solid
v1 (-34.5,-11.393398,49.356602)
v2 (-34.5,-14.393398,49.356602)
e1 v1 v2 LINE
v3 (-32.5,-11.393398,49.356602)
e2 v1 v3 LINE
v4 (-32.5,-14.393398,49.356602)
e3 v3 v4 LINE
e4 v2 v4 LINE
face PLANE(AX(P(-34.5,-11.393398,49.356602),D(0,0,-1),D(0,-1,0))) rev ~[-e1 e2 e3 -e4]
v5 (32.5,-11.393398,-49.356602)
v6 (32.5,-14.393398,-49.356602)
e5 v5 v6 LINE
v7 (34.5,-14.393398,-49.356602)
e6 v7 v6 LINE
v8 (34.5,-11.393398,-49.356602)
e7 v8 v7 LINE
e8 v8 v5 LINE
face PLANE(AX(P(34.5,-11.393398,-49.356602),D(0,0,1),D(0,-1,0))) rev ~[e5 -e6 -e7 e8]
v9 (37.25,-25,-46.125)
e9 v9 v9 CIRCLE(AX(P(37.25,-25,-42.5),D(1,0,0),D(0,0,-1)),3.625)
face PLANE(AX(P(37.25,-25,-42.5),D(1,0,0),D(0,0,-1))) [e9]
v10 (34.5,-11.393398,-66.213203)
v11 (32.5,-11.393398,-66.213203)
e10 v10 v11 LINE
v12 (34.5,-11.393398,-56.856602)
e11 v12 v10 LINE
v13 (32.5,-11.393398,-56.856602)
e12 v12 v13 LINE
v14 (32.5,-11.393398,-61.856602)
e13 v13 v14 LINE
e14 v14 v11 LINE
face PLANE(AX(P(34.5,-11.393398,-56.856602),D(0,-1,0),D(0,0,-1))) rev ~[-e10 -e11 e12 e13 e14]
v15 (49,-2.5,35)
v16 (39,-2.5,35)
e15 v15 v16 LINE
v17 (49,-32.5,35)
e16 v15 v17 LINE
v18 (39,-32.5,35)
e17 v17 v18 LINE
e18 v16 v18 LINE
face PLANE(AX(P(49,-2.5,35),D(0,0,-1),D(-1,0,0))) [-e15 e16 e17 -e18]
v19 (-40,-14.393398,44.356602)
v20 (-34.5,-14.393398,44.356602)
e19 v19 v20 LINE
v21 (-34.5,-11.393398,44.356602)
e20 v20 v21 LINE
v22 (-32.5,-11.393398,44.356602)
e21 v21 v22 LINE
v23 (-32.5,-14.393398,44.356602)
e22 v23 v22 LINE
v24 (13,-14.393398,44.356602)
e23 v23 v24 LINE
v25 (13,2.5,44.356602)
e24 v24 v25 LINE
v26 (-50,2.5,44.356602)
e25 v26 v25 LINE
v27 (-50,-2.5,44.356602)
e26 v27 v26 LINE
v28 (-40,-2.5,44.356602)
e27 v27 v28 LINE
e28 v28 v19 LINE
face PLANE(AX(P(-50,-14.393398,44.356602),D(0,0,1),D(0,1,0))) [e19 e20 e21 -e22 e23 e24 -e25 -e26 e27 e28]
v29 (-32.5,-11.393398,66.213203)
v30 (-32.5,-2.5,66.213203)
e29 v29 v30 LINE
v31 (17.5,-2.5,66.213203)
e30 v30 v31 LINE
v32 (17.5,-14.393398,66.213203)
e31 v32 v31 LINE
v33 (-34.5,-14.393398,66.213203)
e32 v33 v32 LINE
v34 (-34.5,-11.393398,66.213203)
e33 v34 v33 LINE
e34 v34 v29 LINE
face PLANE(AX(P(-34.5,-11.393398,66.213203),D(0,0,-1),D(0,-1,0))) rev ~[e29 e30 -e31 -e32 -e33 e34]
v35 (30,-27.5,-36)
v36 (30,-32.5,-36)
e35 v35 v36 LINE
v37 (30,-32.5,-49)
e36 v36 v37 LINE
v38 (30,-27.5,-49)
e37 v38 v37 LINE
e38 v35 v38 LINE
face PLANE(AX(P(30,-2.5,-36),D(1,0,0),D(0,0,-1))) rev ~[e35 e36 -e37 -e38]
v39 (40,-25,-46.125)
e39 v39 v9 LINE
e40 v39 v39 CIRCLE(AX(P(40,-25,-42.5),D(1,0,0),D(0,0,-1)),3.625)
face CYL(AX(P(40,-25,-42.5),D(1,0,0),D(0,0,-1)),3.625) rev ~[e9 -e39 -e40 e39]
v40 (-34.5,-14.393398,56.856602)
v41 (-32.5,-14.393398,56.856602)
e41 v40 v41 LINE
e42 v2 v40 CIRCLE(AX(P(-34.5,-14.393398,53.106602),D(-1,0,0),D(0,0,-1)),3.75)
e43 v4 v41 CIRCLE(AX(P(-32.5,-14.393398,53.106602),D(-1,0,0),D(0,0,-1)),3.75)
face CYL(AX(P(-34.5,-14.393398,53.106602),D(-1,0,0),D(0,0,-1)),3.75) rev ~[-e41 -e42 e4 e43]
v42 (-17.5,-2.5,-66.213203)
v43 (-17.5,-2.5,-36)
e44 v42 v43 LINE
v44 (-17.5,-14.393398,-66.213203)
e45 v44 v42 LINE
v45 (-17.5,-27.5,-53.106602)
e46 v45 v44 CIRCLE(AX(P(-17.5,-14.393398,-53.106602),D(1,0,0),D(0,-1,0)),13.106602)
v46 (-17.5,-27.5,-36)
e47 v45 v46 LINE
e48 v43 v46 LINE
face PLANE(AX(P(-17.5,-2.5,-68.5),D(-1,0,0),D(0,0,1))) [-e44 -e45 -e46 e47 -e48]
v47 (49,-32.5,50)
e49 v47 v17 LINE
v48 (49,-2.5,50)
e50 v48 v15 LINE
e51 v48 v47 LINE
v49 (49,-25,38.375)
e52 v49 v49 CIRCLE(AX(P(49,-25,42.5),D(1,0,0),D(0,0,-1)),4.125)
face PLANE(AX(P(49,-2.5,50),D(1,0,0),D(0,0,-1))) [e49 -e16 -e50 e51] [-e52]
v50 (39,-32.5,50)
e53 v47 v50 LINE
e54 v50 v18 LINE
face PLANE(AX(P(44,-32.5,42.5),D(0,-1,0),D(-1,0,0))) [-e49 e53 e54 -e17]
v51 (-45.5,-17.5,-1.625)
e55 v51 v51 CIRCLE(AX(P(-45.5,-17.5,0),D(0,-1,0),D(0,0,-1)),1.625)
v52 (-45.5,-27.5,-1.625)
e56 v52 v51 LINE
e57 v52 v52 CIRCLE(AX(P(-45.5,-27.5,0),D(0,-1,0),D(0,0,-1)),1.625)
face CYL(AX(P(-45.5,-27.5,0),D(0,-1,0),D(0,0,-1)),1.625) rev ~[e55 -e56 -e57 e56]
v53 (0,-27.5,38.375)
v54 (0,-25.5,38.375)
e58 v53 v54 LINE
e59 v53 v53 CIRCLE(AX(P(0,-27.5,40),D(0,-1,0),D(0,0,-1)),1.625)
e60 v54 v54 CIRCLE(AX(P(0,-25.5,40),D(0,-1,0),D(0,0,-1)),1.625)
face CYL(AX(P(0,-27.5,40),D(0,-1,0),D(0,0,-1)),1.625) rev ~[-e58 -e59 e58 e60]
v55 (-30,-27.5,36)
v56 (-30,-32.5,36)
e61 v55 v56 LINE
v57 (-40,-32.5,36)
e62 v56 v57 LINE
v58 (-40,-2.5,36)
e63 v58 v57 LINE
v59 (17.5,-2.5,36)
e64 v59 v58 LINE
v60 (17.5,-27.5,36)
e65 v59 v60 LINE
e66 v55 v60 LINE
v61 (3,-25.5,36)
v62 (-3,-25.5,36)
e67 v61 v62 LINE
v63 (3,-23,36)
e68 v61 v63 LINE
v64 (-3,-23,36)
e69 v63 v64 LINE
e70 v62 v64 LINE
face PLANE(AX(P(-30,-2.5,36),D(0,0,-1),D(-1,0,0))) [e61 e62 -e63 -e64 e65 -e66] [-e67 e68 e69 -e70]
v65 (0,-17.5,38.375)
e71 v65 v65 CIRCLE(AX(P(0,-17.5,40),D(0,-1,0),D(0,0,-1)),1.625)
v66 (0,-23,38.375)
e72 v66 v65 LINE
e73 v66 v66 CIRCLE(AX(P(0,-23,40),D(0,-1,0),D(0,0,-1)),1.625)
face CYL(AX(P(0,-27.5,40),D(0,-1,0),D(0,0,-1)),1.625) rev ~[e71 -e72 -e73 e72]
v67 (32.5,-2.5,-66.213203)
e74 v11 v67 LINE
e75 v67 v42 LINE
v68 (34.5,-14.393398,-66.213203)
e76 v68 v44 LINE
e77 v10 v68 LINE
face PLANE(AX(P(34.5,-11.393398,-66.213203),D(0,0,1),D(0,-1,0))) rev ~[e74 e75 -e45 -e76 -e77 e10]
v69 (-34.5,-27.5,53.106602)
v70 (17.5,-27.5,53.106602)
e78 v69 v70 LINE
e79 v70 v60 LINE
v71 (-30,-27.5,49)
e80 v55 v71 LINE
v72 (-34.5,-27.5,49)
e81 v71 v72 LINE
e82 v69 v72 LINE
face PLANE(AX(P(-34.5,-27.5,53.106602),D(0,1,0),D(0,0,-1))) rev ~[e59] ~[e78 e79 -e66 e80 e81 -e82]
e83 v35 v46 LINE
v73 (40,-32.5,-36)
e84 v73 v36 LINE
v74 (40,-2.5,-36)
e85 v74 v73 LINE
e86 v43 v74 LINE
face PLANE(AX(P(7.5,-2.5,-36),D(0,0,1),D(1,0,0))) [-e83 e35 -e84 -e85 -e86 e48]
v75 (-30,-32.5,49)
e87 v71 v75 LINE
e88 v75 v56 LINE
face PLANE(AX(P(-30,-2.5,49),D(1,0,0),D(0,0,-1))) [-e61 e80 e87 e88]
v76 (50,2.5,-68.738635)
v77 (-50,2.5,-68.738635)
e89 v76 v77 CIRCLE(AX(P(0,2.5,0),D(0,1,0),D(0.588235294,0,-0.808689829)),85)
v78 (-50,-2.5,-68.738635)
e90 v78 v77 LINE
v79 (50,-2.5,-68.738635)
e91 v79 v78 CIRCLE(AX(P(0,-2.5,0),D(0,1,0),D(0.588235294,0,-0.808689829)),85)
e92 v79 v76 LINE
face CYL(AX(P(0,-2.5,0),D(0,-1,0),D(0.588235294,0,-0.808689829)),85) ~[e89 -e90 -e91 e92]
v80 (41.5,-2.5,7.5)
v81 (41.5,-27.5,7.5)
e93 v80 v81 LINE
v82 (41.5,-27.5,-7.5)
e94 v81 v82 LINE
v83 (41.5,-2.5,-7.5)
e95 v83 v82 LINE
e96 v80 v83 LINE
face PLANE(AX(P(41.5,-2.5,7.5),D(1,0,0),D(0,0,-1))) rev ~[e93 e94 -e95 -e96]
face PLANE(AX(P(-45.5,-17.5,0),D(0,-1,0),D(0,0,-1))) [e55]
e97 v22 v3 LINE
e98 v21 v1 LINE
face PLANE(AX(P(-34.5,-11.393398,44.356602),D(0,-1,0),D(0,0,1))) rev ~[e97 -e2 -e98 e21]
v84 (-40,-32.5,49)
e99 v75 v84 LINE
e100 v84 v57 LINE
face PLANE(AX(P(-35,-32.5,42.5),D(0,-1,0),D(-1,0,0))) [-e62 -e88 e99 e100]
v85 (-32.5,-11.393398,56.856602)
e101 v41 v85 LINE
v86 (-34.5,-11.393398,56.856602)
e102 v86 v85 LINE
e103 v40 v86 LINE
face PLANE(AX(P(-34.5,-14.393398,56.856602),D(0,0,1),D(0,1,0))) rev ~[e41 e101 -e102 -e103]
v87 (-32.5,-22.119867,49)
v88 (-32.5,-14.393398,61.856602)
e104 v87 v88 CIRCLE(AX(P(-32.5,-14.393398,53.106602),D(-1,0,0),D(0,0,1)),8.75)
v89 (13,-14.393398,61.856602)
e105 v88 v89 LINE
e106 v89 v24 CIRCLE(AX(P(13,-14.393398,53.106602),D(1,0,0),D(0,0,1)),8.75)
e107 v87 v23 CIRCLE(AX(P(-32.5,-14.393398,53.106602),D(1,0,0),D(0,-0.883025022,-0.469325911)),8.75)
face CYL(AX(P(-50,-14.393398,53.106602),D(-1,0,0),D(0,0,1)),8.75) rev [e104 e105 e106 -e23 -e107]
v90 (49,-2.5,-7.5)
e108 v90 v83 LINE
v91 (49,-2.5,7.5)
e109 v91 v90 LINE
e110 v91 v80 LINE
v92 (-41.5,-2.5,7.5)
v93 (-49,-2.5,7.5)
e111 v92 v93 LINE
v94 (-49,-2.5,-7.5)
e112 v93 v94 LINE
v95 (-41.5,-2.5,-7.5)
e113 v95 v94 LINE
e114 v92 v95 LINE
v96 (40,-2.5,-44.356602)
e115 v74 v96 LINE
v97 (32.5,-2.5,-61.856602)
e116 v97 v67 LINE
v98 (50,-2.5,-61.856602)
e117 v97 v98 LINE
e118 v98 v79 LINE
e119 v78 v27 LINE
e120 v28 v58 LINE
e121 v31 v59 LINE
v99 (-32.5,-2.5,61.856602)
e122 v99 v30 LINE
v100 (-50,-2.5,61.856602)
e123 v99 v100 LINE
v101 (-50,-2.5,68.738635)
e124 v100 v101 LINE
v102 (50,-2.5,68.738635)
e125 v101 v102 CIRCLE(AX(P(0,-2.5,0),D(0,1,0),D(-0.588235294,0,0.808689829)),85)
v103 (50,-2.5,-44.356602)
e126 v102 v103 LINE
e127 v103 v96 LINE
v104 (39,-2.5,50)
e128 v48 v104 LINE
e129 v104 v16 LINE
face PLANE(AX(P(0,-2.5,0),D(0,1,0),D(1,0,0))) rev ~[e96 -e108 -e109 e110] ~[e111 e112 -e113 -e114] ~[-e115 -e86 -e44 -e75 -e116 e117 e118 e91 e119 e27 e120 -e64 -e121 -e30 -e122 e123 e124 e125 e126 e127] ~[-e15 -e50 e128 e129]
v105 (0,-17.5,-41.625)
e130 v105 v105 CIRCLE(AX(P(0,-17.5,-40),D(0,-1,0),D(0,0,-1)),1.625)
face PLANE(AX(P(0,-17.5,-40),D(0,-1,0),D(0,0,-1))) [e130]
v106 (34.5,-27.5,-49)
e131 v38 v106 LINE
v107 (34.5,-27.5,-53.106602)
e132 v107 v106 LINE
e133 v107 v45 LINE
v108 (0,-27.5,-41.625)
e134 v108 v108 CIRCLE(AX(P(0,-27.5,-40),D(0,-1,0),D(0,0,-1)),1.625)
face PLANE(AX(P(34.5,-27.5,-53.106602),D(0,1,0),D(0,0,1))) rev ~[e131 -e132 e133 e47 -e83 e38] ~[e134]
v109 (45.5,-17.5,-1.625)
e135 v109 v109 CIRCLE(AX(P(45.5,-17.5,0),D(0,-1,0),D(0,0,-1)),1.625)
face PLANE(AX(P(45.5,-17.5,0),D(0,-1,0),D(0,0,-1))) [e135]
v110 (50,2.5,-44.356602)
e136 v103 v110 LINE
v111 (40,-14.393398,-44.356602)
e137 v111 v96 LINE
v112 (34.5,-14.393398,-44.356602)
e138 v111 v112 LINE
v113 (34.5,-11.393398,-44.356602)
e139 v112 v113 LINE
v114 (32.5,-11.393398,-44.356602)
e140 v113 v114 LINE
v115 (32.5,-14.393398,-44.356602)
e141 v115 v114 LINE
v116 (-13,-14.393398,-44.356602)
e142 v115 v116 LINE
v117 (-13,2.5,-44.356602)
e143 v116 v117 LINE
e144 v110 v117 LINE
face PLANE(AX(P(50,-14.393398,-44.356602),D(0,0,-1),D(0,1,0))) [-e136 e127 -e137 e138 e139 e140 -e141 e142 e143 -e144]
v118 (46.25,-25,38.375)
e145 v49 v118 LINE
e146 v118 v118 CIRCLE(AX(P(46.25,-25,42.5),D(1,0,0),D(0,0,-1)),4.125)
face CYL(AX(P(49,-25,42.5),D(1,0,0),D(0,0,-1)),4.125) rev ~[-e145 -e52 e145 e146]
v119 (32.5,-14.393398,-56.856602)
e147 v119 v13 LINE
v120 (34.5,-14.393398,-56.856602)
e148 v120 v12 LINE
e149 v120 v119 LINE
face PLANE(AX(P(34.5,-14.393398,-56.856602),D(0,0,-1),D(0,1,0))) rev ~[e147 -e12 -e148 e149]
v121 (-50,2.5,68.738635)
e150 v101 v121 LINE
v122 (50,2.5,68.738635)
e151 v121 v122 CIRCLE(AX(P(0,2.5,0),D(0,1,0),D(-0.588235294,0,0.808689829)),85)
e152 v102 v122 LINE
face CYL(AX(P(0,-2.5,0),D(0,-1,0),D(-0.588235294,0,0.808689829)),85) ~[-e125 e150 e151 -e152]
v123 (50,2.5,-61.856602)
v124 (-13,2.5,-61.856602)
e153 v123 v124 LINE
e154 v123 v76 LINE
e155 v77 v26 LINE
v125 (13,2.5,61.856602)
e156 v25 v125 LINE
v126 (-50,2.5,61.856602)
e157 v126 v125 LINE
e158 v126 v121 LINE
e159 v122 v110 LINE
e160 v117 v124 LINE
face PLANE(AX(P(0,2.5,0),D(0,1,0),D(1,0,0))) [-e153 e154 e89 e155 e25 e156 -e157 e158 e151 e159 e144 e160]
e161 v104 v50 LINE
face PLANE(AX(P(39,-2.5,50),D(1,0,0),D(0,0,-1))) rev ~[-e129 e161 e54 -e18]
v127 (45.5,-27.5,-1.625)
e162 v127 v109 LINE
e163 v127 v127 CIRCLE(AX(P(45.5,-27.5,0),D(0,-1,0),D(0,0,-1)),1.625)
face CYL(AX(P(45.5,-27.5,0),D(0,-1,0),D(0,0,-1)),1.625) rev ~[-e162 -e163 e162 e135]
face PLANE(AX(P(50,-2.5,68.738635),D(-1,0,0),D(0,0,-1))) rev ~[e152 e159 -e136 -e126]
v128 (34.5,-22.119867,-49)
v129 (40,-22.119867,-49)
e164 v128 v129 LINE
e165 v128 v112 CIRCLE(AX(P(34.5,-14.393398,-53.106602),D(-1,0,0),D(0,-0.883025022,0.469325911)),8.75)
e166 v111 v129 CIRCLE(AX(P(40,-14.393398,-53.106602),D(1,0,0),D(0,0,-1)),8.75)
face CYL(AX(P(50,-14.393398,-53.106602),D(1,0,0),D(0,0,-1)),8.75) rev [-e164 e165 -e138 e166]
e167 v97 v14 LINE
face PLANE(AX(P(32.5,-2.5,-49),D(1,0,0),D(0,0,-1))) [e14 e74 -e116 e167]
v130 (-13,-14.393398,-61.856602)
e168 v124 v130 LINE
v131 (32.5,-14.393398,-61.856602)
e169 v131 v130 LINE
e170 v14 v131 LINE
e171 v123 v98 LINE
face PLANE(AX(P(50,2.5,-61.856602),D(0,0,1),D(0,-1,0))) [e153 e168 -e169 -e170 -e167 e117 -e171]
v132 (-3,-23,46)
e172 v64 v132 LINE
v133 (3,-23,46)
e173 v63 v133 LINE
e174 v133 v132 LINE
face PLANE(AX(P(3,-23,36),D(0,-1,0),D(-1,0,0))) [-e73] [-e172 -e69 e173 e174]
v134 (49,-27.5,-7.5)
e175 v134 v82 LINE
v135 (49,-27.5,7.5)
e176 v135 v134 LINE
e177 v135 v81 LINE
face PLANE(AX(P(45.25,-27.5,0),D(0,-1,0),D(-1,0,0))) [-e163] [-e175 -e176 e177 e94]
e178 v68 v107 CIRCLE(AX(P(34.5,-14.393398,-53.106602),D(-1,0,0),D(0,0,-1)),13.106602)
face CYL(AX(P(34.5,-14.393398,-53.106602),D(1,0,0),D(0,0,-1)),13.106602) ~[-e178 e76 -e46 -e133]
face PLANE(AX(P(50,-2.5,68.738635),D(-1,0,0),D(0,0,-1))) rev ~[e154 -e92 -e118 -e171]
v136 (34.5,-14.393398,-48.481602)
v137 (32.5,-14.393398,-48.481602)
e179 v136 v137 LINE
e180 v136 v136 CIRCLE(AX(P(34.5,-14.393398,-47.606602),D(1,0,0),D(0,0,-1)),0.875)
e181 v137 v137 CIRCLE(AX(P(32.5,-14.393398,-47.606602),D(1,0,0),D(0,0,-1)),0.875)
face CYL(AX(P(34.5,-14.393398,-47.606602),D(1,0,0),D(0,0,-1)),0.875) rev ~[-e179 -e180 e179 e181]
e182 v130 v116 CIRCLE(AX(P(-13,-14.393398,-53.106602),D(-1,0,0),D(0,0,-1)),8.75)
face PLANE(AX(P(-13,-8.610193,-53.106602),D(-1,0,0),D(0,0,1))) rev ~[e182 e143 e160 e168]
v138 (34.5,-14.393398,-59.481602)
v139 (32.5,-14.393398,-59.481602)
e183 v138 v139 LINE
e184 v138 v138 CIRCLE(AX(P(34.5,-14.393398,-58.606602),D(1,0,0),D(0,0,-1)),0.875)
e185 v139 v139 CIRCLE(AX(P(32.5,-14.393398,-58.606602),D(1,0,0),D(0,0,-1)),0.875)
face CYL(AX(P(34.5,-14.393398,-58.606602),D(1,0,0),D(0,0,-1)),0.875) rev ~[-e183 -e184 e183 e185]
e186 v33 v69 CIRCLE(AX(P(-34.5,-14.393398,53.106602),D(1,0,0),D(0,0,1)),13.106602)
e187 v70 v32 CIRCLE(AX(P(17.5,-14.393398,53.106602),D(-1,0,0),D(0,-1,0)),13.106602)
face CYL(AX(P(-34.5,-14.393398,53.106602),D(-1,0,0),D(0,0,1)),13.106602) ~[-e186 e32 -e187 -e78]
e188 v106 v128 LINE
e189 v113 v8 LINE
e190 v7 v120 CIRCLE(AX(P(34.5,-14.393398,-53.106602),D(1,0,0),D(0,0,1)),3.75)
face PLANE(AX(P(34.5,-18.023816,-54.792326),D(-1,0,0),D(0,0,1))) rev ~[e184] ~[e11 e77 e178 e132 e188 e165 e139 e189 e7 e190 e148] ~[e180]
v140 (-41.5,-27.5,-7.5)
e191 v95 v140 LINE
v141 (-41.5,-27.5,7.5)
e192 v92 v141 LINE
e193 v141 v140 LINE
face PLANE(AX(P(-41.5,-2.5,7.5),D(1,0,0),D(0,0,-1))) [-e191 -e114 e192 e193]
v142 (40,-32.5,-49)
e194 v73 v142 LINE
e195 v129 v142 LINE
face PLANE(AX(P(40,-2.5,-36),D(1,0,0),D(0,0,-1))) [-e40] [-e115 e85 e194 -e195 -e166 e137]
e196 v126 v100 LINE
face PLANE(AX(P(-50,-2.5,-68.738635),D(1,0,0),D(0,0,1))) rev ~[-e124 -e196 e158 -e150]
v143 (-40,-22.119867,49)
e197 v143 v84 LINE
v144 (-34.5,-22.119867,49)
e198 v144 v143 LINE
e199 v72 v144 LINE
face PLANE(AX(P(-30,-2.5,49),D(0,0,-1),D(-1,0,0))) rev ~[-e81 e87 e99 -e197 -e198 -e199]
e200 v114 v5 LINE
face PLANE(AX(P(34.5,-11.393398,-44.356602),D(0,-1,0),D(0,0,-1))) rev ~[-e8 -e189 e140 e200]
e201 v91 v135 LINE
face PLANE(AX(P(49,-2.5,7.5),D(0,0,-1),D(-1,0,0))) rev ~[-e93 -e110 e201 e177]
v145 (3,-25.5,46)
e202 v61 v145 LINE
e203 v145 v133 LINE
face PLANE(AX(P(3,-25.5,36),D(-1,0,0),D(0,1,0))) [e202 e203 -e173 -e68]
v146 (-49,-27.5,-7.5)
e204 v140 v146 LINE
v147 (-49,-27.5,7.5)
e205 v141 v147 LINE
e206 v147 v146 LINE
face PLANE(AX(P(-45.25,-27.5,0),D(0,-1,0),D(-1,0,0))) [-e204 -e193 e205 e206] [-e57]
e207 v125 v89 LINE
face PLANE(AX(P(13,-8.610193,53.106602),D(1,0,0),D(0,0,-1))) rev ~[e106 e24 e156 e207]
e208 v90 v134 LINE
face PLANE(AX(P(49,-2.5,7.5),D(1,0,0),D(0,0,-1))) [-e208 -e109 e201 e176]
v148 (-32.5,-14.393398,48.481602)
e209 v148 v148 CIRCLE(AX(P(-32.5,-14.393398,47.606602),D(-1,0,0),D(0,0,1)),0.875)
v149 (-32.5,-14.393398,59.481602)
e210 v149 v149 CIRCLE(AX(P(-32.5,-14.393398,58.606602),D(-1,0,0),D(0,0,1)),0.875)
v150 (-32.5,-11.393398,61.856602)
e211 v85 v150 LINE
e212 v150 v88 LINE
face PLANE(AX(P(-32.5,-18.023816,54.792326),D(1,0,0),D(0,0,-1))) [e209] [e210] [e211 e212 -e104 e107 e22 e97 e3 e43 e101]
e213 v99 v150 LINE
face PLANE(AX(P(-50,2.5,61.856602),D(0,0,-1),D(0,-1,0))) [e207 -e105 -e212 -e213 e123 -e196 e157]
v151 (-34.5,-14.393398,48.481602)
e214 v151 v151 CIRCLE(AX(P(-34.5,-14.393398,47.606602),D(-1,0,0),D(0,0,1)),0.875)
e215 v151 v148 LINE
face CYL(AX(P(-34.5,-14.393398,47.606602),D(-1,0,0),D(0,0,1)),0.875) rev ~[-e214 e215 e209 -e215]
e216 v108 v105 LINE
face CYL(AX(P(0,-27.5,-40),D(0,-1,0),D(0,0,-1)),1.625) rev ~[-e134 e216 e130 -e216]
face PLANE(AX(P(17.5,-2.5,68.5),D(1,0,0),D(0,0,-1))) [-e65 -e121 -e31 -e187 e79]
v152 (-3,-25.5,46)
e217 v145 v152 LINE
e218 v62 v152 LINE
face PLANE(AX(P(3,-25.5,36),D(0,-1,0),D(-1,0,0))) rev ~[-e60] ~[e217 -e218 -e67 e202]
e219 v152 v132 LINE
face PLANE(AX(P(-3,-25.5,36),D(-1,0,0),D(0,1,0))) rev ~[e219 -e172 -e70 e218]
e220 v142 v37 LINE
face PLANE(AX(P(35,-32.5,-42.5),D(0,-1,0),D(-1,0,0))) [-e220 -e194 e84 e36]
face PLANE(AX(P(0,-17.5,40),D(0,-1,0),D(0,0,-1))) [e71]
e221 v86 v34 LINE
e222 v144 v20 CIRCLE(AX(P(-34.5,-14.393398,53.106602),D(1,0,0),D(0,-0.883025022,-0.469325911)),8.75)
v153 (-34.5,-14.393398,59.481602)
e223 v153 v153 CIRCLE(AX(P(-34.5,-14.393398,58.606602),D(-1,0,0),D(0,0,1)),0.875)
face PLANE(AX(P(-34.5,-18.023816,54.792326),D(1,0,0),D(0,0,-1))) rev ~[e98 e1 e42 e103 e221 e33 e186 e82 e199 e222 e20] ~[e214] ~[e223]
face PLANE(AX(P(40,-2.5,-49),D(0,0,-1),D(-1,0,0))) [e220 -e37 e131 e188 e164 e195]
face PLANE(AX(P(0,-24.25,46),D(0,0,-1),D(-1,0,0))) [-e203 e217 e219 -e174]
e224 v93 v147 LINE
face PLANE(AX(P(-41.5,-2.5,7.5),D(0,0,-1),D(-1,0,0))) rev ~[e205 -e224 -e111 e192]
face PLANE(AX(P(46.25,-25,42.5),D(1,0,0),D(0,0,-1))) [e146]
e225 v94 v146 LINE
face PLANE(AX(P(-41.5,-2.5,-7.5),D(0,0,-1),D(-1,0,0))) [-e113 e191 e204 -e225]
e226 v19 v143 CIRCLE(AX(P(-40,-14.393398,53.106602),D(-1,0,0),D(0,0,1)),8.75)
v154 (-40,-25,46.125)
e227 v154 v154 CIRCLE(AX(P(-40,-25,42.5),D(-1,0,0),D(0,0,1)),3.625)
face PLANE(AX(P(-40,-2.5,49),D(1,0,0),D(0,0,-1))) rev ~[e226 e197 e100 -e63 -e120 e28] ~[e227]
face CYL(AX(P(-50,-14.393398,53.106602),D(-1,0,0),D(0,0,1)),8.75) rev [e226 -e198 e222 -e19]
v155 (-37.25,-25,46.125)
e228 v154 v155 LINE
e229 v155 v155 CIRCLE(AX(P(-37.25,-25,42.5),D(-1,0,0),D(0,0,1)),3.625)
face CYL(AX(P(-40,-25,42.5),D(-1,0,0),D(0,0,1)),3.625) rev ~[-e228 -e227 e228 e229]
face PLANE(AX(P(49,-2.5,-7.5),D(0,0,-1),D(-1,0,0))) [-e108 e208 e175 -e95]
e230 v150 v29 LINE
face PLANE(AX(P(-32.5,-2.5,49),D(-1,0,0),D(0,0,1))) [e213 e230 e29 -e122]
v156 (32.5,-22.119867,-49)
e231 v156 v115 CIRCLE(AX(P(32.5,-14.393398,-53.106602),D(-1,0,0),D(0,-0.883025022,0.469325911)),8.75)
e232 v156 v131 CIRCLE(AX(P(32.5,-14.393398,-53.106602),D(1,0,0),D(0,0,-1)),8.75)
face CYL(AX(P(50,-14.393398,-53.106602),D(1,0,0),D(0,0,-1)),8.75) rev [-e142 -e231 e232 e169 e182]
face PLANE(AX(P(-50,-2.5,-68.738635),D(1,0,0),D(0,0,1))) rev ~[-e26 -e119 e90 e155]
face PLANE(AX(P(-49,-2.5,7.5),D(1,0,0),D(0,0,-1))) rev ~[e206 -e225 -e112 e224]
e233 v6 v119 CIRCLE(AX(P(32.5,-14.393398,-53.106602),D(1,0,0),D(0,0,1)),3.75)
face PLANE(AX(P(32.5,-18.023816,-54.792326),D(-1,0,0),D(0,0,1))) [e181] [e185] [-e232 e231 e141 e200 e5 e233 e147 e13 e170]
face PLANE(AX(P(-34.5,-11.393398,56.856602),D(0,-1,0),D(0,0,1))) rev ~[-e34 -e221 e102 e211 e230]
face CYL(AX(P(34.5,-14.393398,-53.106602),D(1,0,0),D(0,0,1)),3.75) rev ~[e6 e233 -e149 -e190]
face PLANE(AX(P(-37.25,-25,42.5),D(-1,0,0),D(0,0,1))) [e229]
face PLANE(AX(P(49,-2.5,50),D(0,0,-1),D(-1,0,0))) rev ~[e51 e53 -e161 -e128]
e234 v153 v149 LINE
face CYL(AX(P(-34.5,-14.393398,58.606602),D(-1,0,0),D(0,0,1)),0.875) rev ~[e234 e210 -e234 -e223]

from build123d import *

# Parameters (mm, degrees)
BASE_DEPTH          = 2.5
BASE_DEPTH_BACK     = 2.5
SKETCH2_W           = 7.5
SKETCH2_H           = 15
SKETCH2_W_2         = 15
SKETCH2_H_2         = 7.5
BATTERYHOLDER_DEPTH = 25
SKETCH3_R           = 1.625
CUT_EXTRUDE1_DEPTH  = 10
SKETCH5_W           = 10
SKETCH5_H           = 13
BOSS_EXTRUDE2_DEPTH = 30
SKETCH6_R           = 3.625
CUT_EXTRUDE2_DEPTH  = 2.75
SKETCH7_R           = 3.625
CUT_EXTRUDE3_DEPTH  = 2.75
BOSS_EXTRUDE4_DEPTH = 25
CUT_EXTRUDE6_START  = -50
CUT_EXTRUDE6_DEPTH  = 63
CUT_EXTRUDE7_REACH  = 124.831
BOSS_EXTRUDE5_START = 2
BOSS_EXTRUDE5_DEPTH = 2
CUT_EXTRUDE8_REACH  = 126.183
SKETCH15_R          = 0.875
SKETCH16_W          = 6
SKETCH16_H          = 2.5
NUTCUT_DEPTH        = 10
SKETCH17_W          = 10
SKETCH17_H          = 15
BOSS_EXTRUDE6_DEPTH = 30
SKETCH18_R          = 4.125
CUT_EXTRUDE11_DEPTH = 2.75
CIRPATTERN2_COUNT   = 2


with BuildPart() as part:
    # Sketch1 → Base (new, two sides: drawn at the far end of the back side and taken through both)
    with BuildSketch(Plane(origin=(0, 0, 0), x_dir=(1, 0, 0), z_dir=(0, 1, 0)).offset(-BASE_DEPTH_BACK)):
        with BuildLine():
            Line((-50, 68.738635424), (-50, -68.738635424))
            ThreePointArc((-50, -68.738635424), (0, -85), (50, -68.738635424))
            Line((50, -68.738635424), (50, 68.738635424))
            ThreePointArc((50, 68.738635424), (0, 85), (-50, 68.738635424))
        make_face()
    extrude(amount=BASE_DEPTH + BASE_DEPTH_BACK)

    # Sketch2 → BatteryHolder (add)
    with BuildSketch(Plane(origin=(0, -2.5, 0), x_dir=(-1, 0, 0), z_dir=(0, -1, 0))):
        with Locations((45.25, 0)):
            Rectangle(SKETCH2_W, SKETCH2_H)
        with Locations((0, -39.75)):
            Rectangle(SKETCH2_W_2, SKETCH2_H_2)
        with Locations((-45.25, 0)):
            Rectangle(SKETCH2_W, SKETCH2_H)
        with Locations((0, 39.75)):
            Rectangle(SKETCH2_W_2, SKETCH2_H_2)
    extrude(amount=BATTERYHOLDER_DEPTH)

    # Sketch3 → Cut-Extrude1 (cut)
    with BuildSketch(Plane(origin=(0, -27.5, 0), x_dir=(-1, 0, 0), z_dir=(0, -1, 0))):
        with Locations(Location((45.5, 0, 0), (0, 0, 90))):
            Circle(SKETCH3_R)
        with Locations(Location((0, -40, 0), (0, 0, 90))):
            Circle(SKETCH3_R)
        with Locations(Location((-45.5, 0, 0), (0, 0, 90))):
            Circle(SKETCH3_R)
        with Locations(Location((0, 40, 0), (0, 0, 90))):
            Circle(SKETCH3_R)
    extrude(amount=-CUT_EXTRUDE1_DEPTH, mode=Mode.SUBTRACT)

    # Sketch5 → Boss-Extrude2 (add)
    with BuildSketch(Plane(origin=(0, -2.5, 0), x_dir=(-1, 0, 0), z_dir=(0, -1, 0))):
        with Locations((35, -42.5)):
            Rectangle(SKETCH5_W, SKETCH5_H)
        with Locations((-35, 42.5)):
            Rectangle(SKETCH5_W, SKETCH5_H)
    extrude(amount=BOSS_EXTRUDE2_DEPTH)

    # Sketch6 → Cut-Extrude2 (cut)
    with BuildSketch(Plane.ZY.offset(40)):
        with Locations((42.5, -25)):
            Circle(SKETCH6_R)
    extrude(amount=-CUT_EXTRUDE2_DEPTH, mode=Mode.SUBTRACT)

    # Sketch7 → Cut-Extrude3 (cut)
    with BuildSketch(Plane(origin=(40, 0, 0), x_dir=(0, 0, -1), z_dir=(1, 0, 0))):
        with Locations((42.5, -25)):
            Circle(SKETCH7_R)
    extrude(amount=-CUT_EXTRUDE3_DEPTH, mode=Mode.SUBTRACT)

    # Sketch12 → Boss-Extrude4 (add)
    with BuildSketch(Plane(origin=(0, -2.5, 0), x_dir=(-1, 0, 0), z_dir=(0, -1, 0))):
        Polygon((30, -49), (32.5, -49), (32.5, -68.5), (-17.5, -68.5), (-17.5, -36), (-7.5, -36), (-7.5, -43.5), (7.5, -43.5), (7.5, -36), (30, -36), align=None)
    boss_extrude4 = extrude(amount=BOSS_EXTRUDE4_DEPTH)

    # Sketch11 → Cut-Extrude6 (cut)
    with BuildSketch(Plane(origin=(0, 0, 0), x_dir=(0, 0, -1), z_dir=(1, 0, 0)).offset(CUT_EXTRUDE6_START)):
        with BuildLine():
            Line((-44.356601718, -14.393398282), (-44.356601718, 2.5))
            Line((-44.356601718, 2.5), (-61.856601718, 2.5))
            Line((-61.856601718, 2.5), (-61.856601718, -14.393398282))
            ThreePointArc((-61.856601718, -14.393398282), (-53.106601718, -23.143398282), (-44.356601718, -14.393398282))
        make_face()
    cut_extrude6 = extrude(amount=CUT_EXTRUDE6_DEPTH, mode=Mode.SUBTRACT)

    # Sketch13 → Cut-Extrude7 (cut, up to next)
    with BuildSketch(Plane.ZY.offset(32.5), mode=Mode.PRIVATE) as cut_extrude7_sk1:
        with BuildLine():
            Line((66.213203436, -14.393398282), (66.213203436, -2.5))
            Line((66.213203436, -2.5), (68.5, -2.5))
            Line((68.5, -2.5), (68.5, -27.5))
            Line((68.5, -27.5), (53.106601718, -27.5))
            ThreePointArc((53.106601718, -27.5), (62.374368671, -23.661165235), (66.213203436, -14.393398282))
        make_face()
    cut_extrude7_tool1 = extrude(cut_extrude7_sk1.sketch, amount=-CUT_EXTRUDE7_REACH, mode=Mode.PRIVATE) & part.part
    cut_extrude7 = cut_extrude7_tool1.solids().sort_by_distance((-32.5, -18.752717, 65.76063))[0]
    add(cut_extrude7, mode=Mode.SUBTRACT)

    # Sketch14 → Boss-Extrude5 (add)
    with BuildSketch(Plane.ZY.offset(32.5).offset(BOSS_EXTRUDE5_START)):
        with BuildLine():
            Line((49, -27.5), (49, -22.119867225))
            ThreePointArc((49, -22.119867225), (45.606759552, -18.900600018), (44.356601718, -14.393398282))
            Line((44.356601718, -14.393398282), (44.356601718, -11.393398282))
            Line((44.356601718, -11.393398282), (49.356601718, -11.393398282))
            Line((49.356601718, -11.393398282), (49.356601718, -14.393398282))
            ThreePointArc((49.356601718, -14.393398282), (53.106601718, -18.143398282), (56.856601718, -14.393398282))
            Line((56.856601718, -14.393398282), (56.856601718, -11.393398282))
            Line((56.856601718, -11.393398282), (66.213203436, -11.393398282))
            Line((66.213203436, -11.393398282), (66.213203436, -14.393398282))
            ThreePointArc((66.213203436, -14.393398282), (62.374368671, -23.661165235), (53.106601718, -27.5))
            Line((53.106601718, -27.5), (49, -27.5))
        make_face()
    boss_extrude5 = extrude(amount=-BOSS_EXTRUDE5_DEPTH)

    # Sketch15 → Cut-Extrude8 (cut, up to next)
    with BuildSketch(Plane.ZY.offset(34.5), mode=Mode.PRIVATE) as cut_extrude8_sk1:
        with Locations((58.606601718, -14.393398282)):
            Circle(SKETCH15_R)
    cut_extrude8_tool1 = extrude(cut_extrude8_sk1.sketch, amount=-CUT_EXTRUDE8_REACH, mode=Mode.PRIVATE) & part.part
    # Sketch15 → Cut-Extrude8 (cut, up to next)
    with BuildSketch(Plane.ZY.offset(34.5), mode=Mode.PRIVATE) as cut_extrude8_sk2:
        with Locations((47.606601718, -14.393398282)):
            Circle(SKETCH15_R)
    cut_extrude8_tool2 = extrude(cut_extrude8_sk2.sketch, amount=-CUT_EXTRUDE8_REACH, mode=Mode.PRIVATE) & part.part
    cut_extrude8_1 = cut_extrude8_tool1.solids().sort_by_distance((-34.5, -14.393398, 58.606602))[0]
    add(cut_extrude8_1, mode=Mode.SUBTRACT)
    cut_extrude8_2 = cut_extrude8_tool2.solids().sort_by_distance((-34.5, -14.393398, 47.606602))[0]
    add(cut_extrude8_2, mode=Mode.SUBTRACT)
    cut_extrude8 = cut_extrude8_1 + cut_extrude8_2  # Cut-Extrude8 as one shape, for the pattern or mirror that repeats it

    # Sketch16 → NutCut (cut)
    with BuildSketch(Plane(origin=(0, 0, 36), x_dir=(-1, 0, 0), z_dir=(0, 0, -1))):
        with Locations((0, -24.25)):
            Rectangle(SKETCH16_W, SKETCH16_H)
    extrude(amount=-NUTCUT_DEPTH, mode=Mode.SUBTRACT)

    # Sketch17 → Boss-Extrude6 (add)
    with BuildSketch(Plane(origin=(0, -2.5, 0), x_dir=(-1, 0, 0), z_dir=(0, -1, 0))):
        with Locations((-44, -42.5)):
            Rectangle(SKETCH17_W, SKETCH17_H)
    extrude(amount=BOSS_EXTRUDE6_DEPTH)

    # Sketch18 → Cut-Extrude11 (cut)
    with BuildSketch(Plane(origin=(49, 0, 0), x_dir=(0, 0, -1), z_dir=(1, 0, 0))):
        with Locations((-42.5, -25)):
            Circle(SKETCH18_R)
    extrude(amount=-CUT_EXTRUDE11_DEPTH, mode=Mode.SUBTRACT)

    # CirPattern2: Boss-Extrude4, Cut-Extrude6, Cut-Extrude7, Boss-Extrude5, Cut-Extrude8 ×2 about axis
    cirpattern2_axis = Axis((0, 0, 0), (0, 1, 0))
    add([boss_extrude4.rotate(cirpattern2_axis, i * 360 / CIRPATTERN2_COUNT) for i in range(1, CIRPATTERN2_COUNT)])
    add([cut_extrude6.rotate(cirpattern2_axis, i * 360 / CIRPATTERN2_COUNT) for i in range(1, CIRPATTERN2_COUNT)], mode=Mode.SUBTRACT)
    add([cut_extrude7.rotate(cirpattern2_axis, i * 360 / CIRPATTERN2_COUNT) for i in range(1, CIRPATTERN2_COUNT)], mode=Mode.SUBTRACT)
    add([boss_extrude5.rotate(cirpattern2_axis, i * 360 / CIRPATTERN2_COUNT) for i in range(1, CIRPATTERN2_COUNT)])
    add([cut_extrude8.rotate(cirpattern2_axis, i * 360 / CIRPATTERN2_COUNT) for i in range(1, CIRPATTERN2_COUNT)], mode=Mode.SUBTRACT)


solid = part.part
